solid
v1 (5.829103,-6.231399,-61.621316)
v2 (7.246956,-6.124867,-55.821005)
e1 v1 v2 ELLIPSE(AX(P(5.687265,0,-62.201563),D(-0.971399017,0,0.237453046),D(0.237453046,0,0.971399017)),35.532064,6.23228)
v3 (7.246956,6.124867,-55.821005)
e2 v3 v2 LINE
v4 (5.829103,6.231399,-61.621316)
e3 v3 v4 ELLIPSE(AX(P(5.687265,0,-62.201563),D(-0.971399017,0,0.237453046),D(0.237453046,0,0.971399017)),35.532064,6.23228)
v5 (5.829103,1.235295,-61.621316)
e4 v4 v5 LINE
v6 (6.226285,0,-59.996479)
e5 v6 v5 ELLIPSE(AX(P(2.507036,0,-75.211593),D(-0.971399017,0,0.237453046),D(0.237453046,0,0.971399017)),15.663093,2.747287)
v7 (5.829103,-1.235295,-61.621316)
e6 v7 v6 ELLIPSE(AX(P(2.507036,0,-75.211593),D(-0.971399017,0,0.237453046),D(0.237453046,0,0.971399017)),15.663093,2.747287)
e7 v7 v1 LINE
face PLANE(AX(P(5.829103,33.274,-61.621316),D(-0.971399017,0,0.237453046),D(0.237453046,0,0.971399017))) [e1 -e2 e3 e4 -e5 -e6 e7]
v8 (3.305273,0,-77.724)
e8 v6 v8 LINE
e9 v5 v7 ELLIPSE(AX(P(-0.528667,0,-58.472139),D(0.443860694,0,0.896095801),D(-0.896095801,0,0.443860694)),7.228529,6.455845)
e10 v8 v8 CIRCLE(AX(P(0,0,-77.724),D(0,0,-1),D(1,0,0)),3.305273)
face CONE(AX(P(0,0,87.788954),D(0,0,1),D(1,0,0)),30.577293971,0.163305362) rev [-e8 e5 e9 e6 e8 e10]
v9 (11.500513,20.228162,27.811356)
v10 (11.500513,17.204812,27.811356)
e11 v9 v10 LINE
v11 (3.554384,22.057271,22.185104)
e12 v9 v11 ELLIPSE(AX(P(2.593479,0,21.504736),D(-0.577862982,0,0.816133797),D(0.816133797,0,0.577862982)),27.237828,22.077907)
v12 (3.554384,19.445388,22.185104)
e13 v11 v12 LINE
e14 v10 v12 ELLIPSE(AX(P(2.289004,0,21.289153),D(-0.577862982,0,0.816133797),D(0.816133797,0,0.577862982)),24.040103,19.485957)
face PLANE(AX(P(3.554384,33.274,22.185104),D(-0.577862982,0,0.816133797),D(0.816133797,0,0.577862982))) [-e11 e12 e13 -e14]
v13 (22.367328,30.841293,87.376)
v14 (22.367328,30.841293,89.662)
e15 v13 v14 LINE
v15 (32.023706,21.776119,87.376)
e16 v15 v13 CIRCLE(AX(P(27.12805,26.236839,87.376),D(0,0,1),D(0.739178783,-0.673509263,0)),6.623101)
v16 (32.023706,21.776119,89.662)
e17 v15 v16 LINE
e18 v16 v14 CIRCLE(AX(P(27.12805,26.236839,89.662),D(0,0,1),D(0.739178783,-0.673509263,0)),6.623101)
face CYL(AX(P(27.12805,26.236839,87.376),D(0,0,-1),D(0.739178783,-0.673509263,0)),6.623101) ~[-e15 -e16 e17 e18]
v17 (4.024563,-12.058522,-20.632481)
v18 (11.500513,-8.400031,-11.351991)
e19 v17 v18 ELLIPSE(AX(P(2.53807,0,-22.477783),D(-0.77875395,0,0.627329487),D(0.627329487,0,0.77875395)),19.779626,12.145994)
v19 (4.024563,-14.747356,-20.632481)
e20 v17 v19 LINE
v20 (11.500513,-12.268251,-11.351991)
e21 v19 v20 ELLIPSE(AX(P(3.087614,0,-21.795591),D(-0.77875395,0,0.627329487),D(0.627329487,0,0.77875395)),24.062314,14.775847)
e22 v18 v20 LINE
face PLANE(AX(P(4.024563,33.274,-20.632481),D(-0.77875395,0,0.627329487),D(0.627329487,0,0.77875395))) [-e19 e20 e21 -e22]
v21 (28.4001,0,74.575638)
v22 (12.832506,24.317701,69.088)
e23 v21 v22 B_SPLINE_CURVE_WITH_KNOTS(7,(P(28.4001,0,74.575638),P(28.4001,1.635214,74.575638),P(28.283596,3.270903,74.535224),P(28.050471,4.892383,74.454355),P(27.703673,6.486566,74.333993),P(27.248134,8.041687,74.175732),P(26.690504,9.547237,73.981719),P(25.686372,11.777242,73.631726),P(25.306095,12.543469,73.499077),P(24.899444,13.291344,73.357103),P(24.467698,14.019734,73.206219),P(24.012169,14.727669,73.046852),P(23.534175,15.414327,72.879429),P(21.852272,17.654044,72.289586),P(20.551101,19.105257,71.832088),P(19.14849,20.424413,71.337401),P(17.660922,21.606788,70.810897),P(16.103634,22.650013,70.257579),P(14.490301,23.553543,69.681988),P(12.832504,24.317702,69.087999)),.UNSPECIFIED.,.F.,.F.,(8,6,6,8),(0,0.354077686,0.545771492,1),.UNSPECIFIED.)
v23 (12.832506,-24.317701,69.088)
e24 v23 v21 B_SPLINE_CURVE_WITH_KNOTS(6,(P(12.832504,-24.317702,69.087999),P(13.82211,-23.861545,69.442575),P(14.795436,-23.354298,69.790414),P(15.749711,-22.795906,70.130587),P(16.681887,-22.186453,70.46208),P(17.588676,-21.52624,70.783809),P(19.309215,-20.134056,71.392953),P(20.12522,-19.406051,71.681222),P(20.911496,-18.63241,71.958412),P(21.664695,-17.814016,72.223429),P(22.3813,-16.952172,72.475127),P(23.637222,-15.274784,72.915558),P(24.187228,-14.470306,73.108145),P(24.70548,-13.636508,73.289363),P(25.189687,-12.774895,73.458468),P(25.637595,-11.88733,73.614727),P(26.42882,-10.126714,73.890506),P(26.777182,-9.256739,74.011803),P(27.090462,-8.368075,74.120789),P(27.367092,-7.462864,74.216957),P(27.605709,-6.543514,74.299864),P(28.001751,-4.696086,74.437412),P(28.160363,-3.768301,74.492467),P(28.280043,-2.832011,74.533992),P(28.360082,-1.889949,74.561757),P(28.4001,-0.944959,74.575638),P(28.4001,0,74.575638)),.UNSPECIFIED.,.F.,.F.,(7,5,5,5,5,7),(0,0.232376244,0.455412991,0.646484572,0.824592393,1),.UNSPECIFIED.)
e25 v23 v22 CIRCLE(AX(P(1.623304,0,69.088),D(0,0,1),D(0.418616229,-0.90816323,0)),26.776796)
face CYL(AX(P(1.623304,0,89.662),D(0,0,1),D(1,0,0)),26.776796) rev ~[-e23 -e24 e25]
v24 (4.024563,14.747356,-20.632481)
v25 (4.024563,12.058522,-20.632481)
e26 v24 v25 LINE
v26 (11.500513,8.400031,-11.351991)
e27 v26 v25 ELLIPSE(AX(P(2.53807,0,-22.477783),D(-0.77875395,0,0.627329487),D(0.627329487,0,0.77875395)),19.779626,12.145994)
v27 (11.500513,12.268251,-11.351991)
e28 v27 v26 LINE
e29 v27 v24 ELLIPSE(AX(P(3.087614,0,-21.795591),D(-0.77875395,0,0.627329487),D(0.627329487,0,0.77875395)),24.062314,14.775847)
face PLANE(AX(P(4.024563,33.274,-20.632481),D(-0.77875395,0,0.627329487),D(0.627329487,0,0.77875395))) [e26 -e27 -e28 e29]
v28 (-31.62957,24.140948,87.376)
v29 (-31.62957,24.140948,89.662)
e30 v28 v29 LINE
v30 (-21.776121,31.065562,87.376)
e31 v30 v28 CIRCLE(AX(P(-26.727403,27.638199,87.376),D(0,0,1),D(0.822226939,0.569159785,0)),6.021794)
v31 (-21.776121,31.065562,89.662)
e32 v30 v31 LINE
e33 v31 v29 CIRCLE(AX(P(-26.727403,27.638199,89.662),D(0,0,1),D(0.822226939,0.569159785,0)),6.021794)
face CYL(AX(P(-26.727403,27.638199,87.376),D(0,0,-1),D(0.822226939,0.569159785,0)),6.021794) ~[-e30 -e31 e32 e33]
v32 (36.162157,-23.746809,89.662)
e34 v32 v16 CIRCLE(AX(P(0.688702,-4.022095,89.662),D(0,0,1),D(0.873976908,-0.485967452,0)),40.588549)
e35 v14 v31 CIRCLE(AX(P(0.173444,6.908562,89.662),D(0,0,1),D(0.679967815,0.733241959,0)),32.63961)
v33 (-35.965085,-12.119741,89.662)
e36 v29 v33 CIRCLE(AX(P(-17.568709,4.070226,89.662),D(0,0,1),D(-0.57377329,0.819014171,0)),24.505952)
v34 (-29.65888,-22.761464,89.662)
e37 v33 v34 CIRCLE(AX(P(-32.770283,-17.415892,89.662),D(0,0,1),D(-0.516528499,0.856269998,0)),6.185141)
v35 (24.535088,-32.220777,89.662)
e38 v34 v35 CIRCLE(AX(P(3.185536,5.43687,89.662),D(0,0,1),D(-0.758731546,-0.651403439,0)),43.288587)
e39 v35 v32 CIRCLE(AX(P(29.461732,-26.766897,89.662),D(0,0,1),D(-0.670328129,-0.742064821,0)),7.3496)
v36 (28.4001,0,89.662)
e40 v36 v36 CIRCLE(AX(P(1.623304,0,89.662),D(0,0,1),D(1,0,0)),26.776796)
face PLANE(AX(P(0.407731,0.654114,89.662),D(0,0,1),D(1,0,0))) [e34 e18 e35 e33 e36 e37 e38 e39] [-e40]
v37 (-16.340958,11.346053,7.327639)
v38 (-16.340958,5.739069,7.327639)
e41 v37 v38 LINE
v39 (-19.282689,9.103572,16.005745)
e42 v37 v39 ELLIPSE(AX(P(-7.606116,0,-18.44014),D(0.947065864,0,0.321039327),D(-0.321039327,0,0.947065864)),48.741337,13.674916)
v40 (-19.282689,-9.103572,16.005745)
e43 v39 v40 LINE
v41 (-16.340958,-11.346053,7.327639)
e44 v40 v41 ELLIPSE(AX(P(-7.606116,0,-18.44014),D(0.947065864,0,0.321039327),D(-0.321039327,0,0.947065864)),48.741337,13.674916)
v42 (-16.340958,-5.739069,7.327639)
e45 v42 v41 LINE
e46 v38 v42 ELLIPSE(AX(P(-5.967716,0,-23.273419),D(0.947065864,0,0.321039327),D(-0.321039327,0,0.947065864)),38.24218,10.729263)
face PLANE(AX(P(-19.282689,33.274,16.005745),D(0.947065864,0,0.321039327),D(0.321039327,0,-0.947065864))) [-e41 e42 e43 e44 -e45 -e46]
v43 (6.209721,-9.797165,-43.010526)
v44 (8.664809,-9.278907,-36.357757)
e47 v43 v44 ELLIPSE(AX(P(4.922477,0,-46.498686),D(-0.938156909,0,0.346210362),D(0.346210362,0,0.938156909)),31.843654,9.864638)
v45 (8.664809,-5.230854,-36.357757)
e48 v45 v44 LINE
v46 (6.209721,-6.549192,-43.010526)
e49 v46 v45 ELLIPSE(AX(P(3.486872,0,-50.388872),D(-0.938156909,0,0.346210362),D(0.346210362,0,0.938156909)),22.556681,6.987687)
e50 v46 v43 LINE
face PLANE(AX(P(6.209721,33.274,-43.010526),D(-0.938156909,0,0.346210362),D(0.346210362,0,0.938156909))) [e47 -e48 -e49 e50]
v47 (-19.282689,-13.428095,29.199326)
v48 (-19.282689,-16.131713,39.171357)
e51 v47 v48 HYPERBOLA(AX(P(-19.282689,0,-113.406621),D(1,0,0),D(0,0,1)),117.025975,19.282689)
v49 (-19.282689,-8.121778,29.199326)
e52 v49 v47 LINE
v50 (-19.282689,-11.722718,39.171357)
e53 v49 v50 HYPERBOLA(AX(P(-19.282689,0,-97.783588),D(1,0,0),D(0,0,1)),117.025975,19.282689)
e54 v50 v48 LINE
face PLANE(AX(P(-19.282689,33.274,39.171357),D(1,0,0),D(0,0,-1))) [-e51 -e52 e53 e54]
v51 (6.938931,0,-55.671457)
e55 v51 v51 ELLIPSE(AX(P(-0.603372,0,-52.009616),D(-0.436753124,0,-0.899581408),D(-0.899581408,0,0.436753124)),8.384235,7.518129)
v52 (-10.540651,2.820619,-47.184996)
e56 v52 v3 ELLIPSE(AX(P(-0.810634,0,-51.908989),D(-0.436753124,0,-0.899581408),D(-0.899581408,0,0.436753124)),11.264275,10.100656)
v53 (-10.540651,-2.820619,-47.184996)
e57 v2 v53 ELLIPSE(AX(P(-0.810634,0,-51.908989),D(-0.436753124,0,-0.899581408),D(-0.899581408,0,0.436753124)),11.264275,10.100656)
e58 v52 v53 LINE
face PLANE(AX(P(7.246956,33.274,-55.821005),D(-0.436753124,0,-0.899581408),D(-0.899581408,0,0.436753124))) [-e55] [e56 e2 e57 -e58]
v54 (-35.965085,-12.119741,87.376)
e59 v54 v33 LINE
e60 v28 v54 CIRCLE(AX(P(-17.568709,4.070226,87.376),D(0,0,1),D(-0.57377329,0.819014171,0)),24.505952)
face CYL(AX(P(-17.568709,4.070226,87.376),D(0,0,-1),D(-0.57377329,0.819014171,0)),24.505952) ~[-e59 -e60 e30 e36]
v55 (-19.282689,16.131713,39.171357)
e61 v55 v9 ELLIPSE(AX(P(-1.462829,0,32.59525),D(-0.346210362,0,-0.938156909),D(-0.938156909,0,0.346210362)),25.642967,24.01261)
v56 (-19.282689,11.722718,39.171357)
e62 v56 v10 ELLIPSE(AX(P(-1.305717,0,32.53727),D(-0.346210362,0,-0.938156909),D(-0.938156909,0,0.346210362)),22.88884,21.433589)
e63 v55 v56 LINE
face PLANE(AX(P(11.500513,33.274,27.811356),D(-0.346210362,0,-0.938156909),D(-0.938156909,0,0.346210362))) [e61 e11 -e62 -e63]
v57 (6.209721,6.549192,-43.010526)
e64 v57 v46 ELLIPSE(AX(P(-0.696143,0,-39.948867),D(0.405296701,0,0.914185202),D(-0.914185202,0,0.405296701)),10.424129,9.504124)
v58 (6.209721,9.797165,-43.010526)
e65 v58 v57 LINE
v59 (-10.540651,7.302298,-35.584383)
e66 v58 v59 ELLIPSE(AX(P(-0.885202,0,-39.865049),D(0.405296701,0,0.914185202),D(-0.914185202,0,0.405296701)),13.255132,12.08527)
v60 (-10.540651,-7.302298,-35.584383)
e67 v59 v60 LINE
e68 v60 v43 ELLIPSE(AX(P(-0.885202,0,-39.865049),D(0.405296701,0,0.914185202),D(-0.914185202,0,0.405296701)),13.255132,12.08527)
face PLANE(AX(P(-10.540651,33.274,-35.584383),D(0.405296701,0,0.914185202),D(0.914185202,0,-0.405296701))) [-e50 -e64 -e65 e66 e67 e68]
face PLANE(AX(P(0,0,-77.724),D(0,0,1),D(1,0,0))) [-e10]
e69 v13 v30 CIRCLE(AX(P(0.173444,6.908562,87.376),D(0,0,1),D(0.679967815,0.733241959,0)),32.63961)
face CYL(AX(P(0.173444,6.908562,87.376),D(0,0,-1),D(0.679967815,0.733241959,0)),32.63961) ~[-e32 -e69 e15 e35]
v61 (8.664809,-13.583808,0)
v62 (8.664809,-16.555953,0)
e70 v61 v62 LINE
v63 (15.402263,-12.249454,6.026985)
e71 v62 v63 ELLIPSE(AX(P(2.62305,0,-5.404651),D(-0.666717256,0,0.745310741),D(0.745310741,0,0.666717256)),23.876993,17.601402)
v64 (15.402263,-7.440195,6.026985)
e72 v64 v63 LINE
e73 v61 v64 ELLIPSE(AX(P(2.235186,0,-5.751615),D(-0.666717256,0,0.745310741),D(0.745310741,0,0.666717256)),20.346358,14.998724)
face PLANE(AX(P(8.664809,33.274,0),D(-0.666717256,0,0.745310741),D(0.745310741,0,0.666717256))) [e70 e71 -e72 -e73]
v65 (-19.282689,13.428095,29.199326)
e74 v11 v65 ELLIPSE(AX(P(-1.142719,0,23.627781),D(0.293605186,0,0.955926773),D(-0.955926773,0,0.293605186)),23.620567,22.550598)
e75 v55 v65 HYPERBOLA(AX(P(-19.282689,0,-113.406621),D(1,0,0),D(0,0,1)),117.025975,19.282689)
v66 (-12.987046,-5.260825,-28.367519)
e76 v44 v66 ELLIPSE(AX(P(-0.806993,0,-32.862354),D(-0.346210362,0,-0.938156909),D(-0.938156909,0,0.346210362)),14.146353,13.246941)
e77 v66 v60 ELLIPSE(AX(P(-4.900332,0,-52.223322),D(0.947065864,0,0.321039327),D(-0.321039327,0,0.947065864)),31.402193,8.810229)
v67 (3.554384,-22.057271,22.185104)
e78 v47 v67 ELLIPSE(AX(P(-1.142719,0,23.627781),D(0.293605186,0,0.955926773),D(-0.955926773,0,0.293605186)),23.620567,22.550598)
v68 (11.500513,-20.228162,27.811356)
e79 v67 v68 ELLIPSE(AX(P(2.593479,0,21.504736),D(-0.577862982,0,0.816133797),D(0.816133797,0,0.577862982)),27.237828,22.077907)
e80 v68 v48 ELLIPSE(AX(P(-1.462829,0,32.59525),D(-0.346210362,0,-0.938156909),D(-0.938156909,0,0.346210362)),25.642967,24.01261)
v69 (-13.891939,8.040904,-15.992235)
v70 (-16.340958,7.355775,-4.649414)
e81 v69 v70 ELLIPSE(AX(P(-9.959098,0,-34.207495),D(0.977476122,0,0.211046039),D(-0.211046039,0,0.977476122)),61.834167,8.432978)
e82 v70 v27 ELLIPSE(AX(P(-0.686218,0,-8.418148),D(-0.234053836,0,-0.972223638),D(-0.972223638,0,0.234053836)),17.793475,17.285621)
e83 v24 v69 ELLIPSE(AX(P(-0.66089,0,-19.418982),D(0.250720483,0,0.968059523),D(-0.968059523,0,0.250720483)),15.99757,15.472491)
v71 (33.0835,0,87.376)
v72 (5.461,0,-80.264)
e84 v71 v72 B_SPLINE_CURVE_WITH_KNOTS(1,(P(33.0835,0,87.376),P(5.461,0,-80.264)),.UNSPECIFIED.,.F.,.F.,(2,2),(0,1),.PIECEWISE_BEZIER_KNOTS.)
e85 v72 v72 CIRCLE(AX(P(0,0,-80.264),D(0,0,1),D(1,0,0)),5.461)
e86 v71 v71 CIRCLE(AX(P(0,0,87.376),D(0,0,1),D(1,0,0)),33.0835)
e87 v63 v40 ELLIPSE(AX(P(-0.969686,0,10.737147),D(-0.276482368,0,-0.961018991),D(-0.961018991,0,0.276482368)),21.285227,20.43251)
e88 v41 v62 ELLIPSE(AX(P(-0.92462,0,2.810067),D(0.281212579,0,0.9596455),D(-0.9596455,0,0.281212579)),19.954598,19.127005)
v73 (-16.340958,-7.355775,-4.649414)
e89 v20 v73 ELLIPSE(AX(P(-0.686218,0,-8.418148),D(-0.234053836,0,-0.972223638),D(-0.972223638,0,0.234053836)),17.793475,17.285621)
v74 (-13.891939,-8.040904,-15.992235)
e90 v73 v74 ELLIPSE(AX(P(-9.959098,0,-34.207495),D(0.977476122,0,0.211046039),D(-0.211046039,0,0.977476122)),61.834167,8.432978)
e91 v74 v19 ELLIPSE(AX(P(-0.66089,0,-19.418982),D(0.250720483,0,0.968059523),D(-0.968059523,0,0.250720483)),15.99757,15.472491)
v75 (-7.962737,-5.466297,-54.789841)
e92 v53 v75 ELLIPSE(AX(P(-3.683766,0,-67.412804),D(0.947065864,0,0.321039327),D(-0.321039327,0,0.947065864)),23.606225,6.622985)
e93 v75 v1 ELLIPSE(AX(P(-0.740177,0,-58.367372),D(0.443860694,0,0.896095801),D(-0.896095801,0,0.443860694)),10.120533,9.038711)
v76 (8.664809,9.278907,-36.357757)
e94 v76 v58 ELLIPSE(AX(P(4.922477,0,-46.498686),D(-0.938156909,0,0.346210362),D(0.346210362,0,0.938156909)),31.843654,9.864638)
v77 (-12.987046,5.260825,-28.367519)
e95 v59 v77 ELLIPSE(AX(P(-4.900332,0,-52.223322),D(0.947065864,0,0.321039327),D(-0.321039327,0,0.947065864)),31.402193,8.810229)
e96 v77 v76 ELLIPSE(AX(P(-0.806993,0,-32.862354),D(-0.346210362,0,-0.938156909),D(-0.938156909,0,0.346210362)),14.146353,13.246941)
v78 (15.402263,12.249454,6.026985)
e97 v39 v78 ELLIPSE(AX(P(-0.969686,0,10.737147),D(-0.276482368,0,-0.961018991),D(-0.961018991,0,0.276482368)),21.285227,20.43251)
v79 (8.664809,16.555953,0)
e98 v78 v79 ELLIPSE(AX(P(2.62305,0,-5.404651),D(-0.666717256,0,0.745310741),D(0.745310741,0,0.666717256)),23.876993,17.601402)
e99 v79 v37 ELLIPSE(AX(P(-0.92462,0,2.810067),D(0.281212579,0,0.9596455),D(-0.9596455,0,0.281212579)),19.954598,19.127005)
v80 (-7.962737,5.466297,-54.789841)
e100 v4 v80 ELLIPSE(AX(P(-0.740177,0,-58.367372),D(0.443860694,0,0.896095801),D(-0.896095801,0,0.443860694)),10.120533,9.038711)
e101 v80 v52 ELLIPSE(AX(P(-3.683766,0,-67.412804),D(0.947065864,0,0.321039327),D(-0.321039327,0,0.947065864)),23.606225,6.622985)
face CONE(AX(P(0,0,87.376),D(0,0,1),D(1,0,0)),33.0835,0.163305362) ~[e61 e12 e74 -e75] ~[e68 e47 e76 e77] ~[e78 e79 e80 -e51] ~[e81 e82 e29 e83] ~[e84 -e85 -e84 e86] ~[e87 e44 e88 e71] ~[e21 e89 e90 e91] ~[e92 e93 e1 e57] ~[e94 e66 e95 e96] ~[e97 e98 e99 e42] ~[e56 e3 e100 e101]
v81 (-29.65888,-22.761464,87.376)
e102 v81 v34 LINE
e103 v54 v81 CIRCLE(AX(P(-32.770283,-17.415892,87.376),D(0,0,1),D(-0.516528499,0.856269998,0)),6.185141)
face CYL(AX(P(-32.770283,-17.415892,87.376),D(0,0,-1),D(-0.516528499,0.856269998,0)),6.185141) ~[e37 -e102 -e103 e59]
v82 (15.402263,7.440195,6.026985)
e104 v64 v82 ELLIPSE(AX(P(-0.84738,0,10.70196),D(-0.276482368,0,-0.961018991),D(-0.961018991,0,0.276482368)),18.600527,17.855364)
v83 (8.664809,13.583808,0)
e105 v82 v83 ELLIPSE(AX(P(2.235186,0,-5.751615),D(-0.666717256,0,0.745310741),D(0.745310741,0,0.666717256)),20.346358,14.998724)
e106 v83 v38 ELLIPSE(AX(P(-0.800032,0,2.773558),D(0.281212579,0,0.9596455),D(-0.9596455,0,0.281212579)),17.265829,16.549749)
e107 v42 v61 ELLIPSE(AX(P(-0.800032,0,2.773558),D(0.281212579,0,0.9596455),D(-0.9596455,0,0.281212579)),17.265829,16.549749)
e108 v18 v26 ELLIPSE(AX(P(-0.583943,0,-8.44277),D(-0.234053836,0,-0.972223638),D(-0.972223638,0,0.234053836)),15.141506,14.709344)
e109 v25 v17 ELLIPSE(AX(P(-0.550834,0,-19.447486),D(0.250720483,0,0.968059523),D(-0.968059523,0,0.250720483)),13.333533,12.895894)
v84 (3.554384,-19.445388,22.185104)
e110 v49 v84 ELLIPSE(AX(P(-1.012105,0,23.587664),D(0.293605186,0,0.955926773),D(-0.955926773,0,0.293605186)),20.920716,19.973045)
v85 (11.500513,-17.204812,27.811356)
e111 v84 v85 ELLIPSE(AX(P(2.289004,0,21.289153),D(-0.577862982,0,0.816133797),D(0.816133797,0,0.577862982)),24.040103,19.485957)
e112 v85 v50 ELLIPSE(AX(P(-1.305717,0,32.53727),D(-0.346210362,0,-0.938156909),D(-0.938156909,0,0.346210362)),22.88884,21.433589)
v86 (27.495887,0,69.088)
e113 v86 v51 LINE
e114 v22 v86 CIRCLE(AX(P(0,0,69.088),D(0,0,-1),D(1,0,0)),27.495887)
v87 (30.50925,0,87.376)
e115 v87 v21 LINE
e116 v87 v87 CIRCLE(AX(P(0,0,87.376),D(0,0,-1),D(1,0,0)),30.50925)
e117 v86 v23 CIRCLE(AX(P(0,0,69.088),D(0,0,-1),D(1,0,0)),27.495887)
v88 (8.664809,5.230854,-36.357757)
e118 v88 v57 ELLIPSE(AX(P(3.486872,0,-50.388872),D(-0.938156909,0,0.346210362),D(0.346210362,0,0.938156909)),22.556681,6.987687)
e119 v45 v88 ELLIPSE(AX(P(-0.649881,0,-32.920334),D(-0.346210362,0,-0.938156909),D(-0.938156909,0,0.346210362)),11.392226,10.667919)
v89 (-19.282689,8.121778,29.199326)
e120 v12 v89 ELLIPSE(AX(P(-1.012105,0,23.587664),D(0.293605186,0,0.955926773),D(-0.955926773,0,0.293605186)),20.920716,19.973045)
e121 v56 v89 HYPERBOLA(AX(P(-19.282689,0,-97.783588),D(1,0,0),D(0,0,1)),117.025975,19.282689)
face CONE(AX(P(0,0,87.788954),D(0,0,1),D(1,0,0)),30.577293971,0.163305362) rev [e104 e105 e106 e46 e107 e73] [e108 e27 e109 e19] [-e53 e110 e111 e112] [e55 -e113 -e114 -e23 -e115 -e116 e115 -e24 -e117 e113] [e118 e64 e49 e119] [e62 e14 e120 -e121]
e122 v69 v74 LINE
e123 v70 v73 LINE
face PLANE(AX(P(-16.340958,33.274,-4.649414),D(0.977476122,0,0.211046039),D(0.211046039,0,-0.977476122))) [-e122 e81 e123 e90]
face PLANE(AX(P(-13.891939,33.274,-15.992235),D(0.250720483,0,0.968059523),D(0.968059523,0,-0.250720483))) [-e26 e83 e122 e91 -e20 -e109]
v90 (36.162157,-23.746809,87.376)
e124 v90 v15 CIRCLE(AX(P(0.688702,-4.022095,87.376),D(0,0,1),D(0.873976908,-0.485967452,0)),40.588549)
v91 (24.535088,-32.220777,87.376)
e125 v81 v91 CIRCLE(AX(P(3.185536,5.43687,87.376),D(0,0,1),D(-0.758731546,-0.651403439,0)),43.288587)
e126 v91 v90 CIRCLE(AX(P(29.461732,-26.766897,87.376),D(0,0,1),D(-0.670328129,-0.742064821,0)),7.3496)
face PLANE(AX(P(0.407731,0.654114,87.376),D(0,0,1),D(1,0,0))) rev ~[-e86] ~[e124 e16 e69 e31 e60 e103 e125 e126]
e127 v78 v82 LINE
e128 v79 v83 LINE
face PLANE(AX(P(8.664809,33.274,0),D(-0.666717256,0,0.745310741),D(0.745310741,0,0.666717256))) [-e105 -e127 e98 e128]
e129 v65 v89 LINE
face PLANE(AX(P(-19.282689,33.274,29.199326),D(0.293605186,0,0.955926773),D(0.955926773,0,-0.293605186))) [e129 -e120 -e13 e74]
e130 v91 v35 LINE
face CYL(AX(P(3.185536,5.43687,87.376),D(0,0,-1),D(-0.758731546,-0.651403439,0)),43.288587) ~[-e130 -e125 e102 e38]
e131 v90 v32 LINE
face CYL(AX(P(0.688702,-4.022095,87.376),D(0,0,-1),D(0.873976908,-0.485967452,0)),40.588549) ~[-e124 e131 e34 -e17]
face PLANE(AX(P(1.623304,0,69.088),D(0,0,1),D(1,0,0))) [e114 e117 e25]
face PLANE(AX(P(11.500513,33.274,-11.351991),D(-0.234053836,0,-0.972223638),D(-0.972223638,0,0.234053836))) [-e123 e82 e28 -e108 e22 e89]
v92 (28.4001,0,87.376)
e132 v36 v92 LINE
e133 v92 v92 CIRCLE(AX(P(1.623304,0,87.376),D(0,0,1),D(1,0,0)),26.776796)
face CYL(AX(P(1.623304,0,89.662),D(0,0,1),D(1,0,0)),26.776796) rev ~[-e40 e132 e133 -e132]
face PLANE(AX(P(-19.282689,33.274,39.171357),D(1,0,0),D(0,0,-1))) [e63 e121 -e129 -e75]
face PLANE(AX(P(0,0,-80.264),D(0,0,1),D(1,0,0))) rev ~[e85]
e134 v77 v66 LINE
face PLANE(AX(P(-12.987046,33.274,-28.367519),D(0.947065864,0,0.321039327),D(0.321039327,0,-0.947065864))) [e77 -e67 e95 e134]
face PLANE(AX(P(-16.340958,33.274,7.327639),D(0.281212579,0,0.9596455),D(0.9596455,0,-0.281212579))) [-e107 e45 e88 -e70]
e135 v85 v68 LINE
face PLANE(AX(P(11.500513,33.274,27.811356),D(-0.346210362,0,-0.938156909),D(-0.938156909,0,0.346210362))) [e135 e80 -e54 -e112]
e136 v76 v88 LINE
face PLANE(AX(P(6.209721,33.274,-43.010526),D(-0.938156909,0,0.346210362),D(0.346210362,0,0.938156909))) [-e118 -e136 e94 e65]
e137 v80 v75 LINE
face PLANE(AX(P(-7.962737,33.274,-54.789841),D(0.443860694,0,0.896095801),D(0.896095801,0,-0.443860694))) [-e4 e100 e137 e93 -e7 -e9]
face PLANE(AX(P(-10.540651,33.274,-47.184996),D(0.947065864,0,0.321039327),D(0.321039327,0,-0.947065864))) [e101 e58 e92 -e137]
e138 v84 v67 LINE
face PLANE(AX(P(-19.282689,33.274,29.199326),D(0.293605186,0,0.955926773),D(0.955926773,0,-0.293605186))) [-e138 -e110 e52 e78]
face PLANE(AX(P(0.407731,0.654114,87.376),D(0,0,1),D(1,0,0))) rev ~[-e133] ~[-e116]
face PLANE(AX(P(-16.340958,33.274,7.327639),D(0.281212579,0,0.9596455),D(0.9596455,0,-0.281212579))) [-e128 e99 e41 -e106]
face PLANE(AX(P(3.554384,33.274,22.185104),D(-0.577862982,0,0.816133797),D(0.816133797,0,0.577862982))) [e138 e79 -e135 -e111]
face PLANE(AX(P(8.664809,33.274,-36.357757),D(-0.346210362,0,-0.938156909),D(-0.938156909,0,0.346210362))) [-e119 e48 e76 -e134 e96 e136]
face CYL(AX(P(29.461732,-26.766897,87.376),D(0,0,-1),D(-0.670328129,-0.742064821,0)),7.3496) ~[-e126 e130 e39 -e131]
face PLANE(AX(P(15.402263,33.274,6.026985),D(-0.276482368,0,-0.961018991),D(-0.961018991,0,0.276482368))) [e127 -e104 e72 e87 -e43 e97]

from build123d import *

# Parameters (mm, degrees)
F2_R      = 33.0835
F3_R      = 5.461
F5_T      = -2.54
F8_DEPTH  = 90.424
F10_DEPTH = 2.286
F11_R     = 26.7767955421
F12_DEPTH = 20.574


with BuildPart() as f4:
    # F2 (on offset) → F4 section 0
    with BuildSketch(Plane.XY.offset(87.376)):
        Circle(F2_R)
    # F3 (on offset) → F4 section 1
    with BuildSketch(Plane.XY.offset(-80.264)):
        Circle(F3_R)
    loft()

    # F5
    f5_openings = [f4.faces().sort_by_distance(p)[0] for p in [
        (0, 0, 87.376),
    ]]
    offset(amount=F5_T, openings=f5_openings, kind=Kind.INTERSECTION)

    # F7 (on offset) → F8 (cut)
    with BuildSketch(Plane.XZ.offset(-33.274)):
        Polygon((7.2469562292, -55.821005255), (-10.5406511575, -47.1849963069), (-7.9627372324, -54.7898411751), (5.8291028254, -61.6213157773), align=None)
        Polygon((-12.987045992, -28.3675191), (-10.5406511575, -35.5843827128), (6.2097211414, -43.0105263684), (8.6648091674, -36.3577567041), align=None)
        Polygon((-16.3409579545, -4.6494142152), (-13.8919390738, -15.9922353923), (4.0245633572, -20.6324812025), (11.5005131811, -11.3519905135), align=None)
        Polygon((-19.2826890827, 16.0057449445), (-16.3409579545, 7.3276394978), (8.6648091674, 0), (15.4022630304, 6.0269851238), align=None)
        Polygon((-19.2826890827, 39.1713567078), (-19.2826890827, 29.1993264109), (3.5543837585, 22.1851039678), (11.5005131811, 27.8113555213), align=None)
    extrude(amount=F8_DEPTH, mode=Mode.SUBTRACT)

    # F9 (on offset) → F10 (join)
    with BuildSketch(Plane.XY.offset(87.376)):
        with BuildLine():
            ThreePointArc((-35.9650850296, -12.119741179), (-38.0913082045, -20.5690913054), (-29.6588800848, -22.761464119))
            ThreePointArc((-29.6588800848, -22.761464119), (-4.2577579723, -37.2069935895), (24.5350878686, -32.2207771242))
            ThreePointArc((24.5350878686, -32.2207771242), (33.7905432246, -32.7064272786), (36.1621566117, -23.7468089908))
            ThreePointArc((36.1621566117, -23.7468089908), (41.1105620393, -0.3473779509), (32.0237055421, 21.7761192471))
            ThreePointArc((32.0237055421, 21.7761192471), (31.6611388158, 31.0655624038), (22.3673284054, 30.8412928134))
            ThreePointArc((22.3673284054, 30.8412928134), (0.3392668677, 39.5477499116), (-21.7761211097, 31.0655624038))
            ThreePointArc((-21.7761211097, 31.0655624038), (-30.1897966866, 32.5650475303), (-31.6295698285, 24.1409484297))
            ThreePointArc((-31.6295698285, 24.1409484297), (-41.9013508233, 6.9795624895), (-35.9650850296, -12.119741179))
        make_face()
    extrude(amount=F10_DEPTH)

    # F11 (on face) → F12 (cut)
    with BuildSketch(Plane.XY.offset(89.662)):
        with Locations((1.6233043279, 0)):
            Circle(F11_R)
    extrude(amount=-F12_DEPTH, mode=Mode.SUBTRACT)


solid = f4.part
